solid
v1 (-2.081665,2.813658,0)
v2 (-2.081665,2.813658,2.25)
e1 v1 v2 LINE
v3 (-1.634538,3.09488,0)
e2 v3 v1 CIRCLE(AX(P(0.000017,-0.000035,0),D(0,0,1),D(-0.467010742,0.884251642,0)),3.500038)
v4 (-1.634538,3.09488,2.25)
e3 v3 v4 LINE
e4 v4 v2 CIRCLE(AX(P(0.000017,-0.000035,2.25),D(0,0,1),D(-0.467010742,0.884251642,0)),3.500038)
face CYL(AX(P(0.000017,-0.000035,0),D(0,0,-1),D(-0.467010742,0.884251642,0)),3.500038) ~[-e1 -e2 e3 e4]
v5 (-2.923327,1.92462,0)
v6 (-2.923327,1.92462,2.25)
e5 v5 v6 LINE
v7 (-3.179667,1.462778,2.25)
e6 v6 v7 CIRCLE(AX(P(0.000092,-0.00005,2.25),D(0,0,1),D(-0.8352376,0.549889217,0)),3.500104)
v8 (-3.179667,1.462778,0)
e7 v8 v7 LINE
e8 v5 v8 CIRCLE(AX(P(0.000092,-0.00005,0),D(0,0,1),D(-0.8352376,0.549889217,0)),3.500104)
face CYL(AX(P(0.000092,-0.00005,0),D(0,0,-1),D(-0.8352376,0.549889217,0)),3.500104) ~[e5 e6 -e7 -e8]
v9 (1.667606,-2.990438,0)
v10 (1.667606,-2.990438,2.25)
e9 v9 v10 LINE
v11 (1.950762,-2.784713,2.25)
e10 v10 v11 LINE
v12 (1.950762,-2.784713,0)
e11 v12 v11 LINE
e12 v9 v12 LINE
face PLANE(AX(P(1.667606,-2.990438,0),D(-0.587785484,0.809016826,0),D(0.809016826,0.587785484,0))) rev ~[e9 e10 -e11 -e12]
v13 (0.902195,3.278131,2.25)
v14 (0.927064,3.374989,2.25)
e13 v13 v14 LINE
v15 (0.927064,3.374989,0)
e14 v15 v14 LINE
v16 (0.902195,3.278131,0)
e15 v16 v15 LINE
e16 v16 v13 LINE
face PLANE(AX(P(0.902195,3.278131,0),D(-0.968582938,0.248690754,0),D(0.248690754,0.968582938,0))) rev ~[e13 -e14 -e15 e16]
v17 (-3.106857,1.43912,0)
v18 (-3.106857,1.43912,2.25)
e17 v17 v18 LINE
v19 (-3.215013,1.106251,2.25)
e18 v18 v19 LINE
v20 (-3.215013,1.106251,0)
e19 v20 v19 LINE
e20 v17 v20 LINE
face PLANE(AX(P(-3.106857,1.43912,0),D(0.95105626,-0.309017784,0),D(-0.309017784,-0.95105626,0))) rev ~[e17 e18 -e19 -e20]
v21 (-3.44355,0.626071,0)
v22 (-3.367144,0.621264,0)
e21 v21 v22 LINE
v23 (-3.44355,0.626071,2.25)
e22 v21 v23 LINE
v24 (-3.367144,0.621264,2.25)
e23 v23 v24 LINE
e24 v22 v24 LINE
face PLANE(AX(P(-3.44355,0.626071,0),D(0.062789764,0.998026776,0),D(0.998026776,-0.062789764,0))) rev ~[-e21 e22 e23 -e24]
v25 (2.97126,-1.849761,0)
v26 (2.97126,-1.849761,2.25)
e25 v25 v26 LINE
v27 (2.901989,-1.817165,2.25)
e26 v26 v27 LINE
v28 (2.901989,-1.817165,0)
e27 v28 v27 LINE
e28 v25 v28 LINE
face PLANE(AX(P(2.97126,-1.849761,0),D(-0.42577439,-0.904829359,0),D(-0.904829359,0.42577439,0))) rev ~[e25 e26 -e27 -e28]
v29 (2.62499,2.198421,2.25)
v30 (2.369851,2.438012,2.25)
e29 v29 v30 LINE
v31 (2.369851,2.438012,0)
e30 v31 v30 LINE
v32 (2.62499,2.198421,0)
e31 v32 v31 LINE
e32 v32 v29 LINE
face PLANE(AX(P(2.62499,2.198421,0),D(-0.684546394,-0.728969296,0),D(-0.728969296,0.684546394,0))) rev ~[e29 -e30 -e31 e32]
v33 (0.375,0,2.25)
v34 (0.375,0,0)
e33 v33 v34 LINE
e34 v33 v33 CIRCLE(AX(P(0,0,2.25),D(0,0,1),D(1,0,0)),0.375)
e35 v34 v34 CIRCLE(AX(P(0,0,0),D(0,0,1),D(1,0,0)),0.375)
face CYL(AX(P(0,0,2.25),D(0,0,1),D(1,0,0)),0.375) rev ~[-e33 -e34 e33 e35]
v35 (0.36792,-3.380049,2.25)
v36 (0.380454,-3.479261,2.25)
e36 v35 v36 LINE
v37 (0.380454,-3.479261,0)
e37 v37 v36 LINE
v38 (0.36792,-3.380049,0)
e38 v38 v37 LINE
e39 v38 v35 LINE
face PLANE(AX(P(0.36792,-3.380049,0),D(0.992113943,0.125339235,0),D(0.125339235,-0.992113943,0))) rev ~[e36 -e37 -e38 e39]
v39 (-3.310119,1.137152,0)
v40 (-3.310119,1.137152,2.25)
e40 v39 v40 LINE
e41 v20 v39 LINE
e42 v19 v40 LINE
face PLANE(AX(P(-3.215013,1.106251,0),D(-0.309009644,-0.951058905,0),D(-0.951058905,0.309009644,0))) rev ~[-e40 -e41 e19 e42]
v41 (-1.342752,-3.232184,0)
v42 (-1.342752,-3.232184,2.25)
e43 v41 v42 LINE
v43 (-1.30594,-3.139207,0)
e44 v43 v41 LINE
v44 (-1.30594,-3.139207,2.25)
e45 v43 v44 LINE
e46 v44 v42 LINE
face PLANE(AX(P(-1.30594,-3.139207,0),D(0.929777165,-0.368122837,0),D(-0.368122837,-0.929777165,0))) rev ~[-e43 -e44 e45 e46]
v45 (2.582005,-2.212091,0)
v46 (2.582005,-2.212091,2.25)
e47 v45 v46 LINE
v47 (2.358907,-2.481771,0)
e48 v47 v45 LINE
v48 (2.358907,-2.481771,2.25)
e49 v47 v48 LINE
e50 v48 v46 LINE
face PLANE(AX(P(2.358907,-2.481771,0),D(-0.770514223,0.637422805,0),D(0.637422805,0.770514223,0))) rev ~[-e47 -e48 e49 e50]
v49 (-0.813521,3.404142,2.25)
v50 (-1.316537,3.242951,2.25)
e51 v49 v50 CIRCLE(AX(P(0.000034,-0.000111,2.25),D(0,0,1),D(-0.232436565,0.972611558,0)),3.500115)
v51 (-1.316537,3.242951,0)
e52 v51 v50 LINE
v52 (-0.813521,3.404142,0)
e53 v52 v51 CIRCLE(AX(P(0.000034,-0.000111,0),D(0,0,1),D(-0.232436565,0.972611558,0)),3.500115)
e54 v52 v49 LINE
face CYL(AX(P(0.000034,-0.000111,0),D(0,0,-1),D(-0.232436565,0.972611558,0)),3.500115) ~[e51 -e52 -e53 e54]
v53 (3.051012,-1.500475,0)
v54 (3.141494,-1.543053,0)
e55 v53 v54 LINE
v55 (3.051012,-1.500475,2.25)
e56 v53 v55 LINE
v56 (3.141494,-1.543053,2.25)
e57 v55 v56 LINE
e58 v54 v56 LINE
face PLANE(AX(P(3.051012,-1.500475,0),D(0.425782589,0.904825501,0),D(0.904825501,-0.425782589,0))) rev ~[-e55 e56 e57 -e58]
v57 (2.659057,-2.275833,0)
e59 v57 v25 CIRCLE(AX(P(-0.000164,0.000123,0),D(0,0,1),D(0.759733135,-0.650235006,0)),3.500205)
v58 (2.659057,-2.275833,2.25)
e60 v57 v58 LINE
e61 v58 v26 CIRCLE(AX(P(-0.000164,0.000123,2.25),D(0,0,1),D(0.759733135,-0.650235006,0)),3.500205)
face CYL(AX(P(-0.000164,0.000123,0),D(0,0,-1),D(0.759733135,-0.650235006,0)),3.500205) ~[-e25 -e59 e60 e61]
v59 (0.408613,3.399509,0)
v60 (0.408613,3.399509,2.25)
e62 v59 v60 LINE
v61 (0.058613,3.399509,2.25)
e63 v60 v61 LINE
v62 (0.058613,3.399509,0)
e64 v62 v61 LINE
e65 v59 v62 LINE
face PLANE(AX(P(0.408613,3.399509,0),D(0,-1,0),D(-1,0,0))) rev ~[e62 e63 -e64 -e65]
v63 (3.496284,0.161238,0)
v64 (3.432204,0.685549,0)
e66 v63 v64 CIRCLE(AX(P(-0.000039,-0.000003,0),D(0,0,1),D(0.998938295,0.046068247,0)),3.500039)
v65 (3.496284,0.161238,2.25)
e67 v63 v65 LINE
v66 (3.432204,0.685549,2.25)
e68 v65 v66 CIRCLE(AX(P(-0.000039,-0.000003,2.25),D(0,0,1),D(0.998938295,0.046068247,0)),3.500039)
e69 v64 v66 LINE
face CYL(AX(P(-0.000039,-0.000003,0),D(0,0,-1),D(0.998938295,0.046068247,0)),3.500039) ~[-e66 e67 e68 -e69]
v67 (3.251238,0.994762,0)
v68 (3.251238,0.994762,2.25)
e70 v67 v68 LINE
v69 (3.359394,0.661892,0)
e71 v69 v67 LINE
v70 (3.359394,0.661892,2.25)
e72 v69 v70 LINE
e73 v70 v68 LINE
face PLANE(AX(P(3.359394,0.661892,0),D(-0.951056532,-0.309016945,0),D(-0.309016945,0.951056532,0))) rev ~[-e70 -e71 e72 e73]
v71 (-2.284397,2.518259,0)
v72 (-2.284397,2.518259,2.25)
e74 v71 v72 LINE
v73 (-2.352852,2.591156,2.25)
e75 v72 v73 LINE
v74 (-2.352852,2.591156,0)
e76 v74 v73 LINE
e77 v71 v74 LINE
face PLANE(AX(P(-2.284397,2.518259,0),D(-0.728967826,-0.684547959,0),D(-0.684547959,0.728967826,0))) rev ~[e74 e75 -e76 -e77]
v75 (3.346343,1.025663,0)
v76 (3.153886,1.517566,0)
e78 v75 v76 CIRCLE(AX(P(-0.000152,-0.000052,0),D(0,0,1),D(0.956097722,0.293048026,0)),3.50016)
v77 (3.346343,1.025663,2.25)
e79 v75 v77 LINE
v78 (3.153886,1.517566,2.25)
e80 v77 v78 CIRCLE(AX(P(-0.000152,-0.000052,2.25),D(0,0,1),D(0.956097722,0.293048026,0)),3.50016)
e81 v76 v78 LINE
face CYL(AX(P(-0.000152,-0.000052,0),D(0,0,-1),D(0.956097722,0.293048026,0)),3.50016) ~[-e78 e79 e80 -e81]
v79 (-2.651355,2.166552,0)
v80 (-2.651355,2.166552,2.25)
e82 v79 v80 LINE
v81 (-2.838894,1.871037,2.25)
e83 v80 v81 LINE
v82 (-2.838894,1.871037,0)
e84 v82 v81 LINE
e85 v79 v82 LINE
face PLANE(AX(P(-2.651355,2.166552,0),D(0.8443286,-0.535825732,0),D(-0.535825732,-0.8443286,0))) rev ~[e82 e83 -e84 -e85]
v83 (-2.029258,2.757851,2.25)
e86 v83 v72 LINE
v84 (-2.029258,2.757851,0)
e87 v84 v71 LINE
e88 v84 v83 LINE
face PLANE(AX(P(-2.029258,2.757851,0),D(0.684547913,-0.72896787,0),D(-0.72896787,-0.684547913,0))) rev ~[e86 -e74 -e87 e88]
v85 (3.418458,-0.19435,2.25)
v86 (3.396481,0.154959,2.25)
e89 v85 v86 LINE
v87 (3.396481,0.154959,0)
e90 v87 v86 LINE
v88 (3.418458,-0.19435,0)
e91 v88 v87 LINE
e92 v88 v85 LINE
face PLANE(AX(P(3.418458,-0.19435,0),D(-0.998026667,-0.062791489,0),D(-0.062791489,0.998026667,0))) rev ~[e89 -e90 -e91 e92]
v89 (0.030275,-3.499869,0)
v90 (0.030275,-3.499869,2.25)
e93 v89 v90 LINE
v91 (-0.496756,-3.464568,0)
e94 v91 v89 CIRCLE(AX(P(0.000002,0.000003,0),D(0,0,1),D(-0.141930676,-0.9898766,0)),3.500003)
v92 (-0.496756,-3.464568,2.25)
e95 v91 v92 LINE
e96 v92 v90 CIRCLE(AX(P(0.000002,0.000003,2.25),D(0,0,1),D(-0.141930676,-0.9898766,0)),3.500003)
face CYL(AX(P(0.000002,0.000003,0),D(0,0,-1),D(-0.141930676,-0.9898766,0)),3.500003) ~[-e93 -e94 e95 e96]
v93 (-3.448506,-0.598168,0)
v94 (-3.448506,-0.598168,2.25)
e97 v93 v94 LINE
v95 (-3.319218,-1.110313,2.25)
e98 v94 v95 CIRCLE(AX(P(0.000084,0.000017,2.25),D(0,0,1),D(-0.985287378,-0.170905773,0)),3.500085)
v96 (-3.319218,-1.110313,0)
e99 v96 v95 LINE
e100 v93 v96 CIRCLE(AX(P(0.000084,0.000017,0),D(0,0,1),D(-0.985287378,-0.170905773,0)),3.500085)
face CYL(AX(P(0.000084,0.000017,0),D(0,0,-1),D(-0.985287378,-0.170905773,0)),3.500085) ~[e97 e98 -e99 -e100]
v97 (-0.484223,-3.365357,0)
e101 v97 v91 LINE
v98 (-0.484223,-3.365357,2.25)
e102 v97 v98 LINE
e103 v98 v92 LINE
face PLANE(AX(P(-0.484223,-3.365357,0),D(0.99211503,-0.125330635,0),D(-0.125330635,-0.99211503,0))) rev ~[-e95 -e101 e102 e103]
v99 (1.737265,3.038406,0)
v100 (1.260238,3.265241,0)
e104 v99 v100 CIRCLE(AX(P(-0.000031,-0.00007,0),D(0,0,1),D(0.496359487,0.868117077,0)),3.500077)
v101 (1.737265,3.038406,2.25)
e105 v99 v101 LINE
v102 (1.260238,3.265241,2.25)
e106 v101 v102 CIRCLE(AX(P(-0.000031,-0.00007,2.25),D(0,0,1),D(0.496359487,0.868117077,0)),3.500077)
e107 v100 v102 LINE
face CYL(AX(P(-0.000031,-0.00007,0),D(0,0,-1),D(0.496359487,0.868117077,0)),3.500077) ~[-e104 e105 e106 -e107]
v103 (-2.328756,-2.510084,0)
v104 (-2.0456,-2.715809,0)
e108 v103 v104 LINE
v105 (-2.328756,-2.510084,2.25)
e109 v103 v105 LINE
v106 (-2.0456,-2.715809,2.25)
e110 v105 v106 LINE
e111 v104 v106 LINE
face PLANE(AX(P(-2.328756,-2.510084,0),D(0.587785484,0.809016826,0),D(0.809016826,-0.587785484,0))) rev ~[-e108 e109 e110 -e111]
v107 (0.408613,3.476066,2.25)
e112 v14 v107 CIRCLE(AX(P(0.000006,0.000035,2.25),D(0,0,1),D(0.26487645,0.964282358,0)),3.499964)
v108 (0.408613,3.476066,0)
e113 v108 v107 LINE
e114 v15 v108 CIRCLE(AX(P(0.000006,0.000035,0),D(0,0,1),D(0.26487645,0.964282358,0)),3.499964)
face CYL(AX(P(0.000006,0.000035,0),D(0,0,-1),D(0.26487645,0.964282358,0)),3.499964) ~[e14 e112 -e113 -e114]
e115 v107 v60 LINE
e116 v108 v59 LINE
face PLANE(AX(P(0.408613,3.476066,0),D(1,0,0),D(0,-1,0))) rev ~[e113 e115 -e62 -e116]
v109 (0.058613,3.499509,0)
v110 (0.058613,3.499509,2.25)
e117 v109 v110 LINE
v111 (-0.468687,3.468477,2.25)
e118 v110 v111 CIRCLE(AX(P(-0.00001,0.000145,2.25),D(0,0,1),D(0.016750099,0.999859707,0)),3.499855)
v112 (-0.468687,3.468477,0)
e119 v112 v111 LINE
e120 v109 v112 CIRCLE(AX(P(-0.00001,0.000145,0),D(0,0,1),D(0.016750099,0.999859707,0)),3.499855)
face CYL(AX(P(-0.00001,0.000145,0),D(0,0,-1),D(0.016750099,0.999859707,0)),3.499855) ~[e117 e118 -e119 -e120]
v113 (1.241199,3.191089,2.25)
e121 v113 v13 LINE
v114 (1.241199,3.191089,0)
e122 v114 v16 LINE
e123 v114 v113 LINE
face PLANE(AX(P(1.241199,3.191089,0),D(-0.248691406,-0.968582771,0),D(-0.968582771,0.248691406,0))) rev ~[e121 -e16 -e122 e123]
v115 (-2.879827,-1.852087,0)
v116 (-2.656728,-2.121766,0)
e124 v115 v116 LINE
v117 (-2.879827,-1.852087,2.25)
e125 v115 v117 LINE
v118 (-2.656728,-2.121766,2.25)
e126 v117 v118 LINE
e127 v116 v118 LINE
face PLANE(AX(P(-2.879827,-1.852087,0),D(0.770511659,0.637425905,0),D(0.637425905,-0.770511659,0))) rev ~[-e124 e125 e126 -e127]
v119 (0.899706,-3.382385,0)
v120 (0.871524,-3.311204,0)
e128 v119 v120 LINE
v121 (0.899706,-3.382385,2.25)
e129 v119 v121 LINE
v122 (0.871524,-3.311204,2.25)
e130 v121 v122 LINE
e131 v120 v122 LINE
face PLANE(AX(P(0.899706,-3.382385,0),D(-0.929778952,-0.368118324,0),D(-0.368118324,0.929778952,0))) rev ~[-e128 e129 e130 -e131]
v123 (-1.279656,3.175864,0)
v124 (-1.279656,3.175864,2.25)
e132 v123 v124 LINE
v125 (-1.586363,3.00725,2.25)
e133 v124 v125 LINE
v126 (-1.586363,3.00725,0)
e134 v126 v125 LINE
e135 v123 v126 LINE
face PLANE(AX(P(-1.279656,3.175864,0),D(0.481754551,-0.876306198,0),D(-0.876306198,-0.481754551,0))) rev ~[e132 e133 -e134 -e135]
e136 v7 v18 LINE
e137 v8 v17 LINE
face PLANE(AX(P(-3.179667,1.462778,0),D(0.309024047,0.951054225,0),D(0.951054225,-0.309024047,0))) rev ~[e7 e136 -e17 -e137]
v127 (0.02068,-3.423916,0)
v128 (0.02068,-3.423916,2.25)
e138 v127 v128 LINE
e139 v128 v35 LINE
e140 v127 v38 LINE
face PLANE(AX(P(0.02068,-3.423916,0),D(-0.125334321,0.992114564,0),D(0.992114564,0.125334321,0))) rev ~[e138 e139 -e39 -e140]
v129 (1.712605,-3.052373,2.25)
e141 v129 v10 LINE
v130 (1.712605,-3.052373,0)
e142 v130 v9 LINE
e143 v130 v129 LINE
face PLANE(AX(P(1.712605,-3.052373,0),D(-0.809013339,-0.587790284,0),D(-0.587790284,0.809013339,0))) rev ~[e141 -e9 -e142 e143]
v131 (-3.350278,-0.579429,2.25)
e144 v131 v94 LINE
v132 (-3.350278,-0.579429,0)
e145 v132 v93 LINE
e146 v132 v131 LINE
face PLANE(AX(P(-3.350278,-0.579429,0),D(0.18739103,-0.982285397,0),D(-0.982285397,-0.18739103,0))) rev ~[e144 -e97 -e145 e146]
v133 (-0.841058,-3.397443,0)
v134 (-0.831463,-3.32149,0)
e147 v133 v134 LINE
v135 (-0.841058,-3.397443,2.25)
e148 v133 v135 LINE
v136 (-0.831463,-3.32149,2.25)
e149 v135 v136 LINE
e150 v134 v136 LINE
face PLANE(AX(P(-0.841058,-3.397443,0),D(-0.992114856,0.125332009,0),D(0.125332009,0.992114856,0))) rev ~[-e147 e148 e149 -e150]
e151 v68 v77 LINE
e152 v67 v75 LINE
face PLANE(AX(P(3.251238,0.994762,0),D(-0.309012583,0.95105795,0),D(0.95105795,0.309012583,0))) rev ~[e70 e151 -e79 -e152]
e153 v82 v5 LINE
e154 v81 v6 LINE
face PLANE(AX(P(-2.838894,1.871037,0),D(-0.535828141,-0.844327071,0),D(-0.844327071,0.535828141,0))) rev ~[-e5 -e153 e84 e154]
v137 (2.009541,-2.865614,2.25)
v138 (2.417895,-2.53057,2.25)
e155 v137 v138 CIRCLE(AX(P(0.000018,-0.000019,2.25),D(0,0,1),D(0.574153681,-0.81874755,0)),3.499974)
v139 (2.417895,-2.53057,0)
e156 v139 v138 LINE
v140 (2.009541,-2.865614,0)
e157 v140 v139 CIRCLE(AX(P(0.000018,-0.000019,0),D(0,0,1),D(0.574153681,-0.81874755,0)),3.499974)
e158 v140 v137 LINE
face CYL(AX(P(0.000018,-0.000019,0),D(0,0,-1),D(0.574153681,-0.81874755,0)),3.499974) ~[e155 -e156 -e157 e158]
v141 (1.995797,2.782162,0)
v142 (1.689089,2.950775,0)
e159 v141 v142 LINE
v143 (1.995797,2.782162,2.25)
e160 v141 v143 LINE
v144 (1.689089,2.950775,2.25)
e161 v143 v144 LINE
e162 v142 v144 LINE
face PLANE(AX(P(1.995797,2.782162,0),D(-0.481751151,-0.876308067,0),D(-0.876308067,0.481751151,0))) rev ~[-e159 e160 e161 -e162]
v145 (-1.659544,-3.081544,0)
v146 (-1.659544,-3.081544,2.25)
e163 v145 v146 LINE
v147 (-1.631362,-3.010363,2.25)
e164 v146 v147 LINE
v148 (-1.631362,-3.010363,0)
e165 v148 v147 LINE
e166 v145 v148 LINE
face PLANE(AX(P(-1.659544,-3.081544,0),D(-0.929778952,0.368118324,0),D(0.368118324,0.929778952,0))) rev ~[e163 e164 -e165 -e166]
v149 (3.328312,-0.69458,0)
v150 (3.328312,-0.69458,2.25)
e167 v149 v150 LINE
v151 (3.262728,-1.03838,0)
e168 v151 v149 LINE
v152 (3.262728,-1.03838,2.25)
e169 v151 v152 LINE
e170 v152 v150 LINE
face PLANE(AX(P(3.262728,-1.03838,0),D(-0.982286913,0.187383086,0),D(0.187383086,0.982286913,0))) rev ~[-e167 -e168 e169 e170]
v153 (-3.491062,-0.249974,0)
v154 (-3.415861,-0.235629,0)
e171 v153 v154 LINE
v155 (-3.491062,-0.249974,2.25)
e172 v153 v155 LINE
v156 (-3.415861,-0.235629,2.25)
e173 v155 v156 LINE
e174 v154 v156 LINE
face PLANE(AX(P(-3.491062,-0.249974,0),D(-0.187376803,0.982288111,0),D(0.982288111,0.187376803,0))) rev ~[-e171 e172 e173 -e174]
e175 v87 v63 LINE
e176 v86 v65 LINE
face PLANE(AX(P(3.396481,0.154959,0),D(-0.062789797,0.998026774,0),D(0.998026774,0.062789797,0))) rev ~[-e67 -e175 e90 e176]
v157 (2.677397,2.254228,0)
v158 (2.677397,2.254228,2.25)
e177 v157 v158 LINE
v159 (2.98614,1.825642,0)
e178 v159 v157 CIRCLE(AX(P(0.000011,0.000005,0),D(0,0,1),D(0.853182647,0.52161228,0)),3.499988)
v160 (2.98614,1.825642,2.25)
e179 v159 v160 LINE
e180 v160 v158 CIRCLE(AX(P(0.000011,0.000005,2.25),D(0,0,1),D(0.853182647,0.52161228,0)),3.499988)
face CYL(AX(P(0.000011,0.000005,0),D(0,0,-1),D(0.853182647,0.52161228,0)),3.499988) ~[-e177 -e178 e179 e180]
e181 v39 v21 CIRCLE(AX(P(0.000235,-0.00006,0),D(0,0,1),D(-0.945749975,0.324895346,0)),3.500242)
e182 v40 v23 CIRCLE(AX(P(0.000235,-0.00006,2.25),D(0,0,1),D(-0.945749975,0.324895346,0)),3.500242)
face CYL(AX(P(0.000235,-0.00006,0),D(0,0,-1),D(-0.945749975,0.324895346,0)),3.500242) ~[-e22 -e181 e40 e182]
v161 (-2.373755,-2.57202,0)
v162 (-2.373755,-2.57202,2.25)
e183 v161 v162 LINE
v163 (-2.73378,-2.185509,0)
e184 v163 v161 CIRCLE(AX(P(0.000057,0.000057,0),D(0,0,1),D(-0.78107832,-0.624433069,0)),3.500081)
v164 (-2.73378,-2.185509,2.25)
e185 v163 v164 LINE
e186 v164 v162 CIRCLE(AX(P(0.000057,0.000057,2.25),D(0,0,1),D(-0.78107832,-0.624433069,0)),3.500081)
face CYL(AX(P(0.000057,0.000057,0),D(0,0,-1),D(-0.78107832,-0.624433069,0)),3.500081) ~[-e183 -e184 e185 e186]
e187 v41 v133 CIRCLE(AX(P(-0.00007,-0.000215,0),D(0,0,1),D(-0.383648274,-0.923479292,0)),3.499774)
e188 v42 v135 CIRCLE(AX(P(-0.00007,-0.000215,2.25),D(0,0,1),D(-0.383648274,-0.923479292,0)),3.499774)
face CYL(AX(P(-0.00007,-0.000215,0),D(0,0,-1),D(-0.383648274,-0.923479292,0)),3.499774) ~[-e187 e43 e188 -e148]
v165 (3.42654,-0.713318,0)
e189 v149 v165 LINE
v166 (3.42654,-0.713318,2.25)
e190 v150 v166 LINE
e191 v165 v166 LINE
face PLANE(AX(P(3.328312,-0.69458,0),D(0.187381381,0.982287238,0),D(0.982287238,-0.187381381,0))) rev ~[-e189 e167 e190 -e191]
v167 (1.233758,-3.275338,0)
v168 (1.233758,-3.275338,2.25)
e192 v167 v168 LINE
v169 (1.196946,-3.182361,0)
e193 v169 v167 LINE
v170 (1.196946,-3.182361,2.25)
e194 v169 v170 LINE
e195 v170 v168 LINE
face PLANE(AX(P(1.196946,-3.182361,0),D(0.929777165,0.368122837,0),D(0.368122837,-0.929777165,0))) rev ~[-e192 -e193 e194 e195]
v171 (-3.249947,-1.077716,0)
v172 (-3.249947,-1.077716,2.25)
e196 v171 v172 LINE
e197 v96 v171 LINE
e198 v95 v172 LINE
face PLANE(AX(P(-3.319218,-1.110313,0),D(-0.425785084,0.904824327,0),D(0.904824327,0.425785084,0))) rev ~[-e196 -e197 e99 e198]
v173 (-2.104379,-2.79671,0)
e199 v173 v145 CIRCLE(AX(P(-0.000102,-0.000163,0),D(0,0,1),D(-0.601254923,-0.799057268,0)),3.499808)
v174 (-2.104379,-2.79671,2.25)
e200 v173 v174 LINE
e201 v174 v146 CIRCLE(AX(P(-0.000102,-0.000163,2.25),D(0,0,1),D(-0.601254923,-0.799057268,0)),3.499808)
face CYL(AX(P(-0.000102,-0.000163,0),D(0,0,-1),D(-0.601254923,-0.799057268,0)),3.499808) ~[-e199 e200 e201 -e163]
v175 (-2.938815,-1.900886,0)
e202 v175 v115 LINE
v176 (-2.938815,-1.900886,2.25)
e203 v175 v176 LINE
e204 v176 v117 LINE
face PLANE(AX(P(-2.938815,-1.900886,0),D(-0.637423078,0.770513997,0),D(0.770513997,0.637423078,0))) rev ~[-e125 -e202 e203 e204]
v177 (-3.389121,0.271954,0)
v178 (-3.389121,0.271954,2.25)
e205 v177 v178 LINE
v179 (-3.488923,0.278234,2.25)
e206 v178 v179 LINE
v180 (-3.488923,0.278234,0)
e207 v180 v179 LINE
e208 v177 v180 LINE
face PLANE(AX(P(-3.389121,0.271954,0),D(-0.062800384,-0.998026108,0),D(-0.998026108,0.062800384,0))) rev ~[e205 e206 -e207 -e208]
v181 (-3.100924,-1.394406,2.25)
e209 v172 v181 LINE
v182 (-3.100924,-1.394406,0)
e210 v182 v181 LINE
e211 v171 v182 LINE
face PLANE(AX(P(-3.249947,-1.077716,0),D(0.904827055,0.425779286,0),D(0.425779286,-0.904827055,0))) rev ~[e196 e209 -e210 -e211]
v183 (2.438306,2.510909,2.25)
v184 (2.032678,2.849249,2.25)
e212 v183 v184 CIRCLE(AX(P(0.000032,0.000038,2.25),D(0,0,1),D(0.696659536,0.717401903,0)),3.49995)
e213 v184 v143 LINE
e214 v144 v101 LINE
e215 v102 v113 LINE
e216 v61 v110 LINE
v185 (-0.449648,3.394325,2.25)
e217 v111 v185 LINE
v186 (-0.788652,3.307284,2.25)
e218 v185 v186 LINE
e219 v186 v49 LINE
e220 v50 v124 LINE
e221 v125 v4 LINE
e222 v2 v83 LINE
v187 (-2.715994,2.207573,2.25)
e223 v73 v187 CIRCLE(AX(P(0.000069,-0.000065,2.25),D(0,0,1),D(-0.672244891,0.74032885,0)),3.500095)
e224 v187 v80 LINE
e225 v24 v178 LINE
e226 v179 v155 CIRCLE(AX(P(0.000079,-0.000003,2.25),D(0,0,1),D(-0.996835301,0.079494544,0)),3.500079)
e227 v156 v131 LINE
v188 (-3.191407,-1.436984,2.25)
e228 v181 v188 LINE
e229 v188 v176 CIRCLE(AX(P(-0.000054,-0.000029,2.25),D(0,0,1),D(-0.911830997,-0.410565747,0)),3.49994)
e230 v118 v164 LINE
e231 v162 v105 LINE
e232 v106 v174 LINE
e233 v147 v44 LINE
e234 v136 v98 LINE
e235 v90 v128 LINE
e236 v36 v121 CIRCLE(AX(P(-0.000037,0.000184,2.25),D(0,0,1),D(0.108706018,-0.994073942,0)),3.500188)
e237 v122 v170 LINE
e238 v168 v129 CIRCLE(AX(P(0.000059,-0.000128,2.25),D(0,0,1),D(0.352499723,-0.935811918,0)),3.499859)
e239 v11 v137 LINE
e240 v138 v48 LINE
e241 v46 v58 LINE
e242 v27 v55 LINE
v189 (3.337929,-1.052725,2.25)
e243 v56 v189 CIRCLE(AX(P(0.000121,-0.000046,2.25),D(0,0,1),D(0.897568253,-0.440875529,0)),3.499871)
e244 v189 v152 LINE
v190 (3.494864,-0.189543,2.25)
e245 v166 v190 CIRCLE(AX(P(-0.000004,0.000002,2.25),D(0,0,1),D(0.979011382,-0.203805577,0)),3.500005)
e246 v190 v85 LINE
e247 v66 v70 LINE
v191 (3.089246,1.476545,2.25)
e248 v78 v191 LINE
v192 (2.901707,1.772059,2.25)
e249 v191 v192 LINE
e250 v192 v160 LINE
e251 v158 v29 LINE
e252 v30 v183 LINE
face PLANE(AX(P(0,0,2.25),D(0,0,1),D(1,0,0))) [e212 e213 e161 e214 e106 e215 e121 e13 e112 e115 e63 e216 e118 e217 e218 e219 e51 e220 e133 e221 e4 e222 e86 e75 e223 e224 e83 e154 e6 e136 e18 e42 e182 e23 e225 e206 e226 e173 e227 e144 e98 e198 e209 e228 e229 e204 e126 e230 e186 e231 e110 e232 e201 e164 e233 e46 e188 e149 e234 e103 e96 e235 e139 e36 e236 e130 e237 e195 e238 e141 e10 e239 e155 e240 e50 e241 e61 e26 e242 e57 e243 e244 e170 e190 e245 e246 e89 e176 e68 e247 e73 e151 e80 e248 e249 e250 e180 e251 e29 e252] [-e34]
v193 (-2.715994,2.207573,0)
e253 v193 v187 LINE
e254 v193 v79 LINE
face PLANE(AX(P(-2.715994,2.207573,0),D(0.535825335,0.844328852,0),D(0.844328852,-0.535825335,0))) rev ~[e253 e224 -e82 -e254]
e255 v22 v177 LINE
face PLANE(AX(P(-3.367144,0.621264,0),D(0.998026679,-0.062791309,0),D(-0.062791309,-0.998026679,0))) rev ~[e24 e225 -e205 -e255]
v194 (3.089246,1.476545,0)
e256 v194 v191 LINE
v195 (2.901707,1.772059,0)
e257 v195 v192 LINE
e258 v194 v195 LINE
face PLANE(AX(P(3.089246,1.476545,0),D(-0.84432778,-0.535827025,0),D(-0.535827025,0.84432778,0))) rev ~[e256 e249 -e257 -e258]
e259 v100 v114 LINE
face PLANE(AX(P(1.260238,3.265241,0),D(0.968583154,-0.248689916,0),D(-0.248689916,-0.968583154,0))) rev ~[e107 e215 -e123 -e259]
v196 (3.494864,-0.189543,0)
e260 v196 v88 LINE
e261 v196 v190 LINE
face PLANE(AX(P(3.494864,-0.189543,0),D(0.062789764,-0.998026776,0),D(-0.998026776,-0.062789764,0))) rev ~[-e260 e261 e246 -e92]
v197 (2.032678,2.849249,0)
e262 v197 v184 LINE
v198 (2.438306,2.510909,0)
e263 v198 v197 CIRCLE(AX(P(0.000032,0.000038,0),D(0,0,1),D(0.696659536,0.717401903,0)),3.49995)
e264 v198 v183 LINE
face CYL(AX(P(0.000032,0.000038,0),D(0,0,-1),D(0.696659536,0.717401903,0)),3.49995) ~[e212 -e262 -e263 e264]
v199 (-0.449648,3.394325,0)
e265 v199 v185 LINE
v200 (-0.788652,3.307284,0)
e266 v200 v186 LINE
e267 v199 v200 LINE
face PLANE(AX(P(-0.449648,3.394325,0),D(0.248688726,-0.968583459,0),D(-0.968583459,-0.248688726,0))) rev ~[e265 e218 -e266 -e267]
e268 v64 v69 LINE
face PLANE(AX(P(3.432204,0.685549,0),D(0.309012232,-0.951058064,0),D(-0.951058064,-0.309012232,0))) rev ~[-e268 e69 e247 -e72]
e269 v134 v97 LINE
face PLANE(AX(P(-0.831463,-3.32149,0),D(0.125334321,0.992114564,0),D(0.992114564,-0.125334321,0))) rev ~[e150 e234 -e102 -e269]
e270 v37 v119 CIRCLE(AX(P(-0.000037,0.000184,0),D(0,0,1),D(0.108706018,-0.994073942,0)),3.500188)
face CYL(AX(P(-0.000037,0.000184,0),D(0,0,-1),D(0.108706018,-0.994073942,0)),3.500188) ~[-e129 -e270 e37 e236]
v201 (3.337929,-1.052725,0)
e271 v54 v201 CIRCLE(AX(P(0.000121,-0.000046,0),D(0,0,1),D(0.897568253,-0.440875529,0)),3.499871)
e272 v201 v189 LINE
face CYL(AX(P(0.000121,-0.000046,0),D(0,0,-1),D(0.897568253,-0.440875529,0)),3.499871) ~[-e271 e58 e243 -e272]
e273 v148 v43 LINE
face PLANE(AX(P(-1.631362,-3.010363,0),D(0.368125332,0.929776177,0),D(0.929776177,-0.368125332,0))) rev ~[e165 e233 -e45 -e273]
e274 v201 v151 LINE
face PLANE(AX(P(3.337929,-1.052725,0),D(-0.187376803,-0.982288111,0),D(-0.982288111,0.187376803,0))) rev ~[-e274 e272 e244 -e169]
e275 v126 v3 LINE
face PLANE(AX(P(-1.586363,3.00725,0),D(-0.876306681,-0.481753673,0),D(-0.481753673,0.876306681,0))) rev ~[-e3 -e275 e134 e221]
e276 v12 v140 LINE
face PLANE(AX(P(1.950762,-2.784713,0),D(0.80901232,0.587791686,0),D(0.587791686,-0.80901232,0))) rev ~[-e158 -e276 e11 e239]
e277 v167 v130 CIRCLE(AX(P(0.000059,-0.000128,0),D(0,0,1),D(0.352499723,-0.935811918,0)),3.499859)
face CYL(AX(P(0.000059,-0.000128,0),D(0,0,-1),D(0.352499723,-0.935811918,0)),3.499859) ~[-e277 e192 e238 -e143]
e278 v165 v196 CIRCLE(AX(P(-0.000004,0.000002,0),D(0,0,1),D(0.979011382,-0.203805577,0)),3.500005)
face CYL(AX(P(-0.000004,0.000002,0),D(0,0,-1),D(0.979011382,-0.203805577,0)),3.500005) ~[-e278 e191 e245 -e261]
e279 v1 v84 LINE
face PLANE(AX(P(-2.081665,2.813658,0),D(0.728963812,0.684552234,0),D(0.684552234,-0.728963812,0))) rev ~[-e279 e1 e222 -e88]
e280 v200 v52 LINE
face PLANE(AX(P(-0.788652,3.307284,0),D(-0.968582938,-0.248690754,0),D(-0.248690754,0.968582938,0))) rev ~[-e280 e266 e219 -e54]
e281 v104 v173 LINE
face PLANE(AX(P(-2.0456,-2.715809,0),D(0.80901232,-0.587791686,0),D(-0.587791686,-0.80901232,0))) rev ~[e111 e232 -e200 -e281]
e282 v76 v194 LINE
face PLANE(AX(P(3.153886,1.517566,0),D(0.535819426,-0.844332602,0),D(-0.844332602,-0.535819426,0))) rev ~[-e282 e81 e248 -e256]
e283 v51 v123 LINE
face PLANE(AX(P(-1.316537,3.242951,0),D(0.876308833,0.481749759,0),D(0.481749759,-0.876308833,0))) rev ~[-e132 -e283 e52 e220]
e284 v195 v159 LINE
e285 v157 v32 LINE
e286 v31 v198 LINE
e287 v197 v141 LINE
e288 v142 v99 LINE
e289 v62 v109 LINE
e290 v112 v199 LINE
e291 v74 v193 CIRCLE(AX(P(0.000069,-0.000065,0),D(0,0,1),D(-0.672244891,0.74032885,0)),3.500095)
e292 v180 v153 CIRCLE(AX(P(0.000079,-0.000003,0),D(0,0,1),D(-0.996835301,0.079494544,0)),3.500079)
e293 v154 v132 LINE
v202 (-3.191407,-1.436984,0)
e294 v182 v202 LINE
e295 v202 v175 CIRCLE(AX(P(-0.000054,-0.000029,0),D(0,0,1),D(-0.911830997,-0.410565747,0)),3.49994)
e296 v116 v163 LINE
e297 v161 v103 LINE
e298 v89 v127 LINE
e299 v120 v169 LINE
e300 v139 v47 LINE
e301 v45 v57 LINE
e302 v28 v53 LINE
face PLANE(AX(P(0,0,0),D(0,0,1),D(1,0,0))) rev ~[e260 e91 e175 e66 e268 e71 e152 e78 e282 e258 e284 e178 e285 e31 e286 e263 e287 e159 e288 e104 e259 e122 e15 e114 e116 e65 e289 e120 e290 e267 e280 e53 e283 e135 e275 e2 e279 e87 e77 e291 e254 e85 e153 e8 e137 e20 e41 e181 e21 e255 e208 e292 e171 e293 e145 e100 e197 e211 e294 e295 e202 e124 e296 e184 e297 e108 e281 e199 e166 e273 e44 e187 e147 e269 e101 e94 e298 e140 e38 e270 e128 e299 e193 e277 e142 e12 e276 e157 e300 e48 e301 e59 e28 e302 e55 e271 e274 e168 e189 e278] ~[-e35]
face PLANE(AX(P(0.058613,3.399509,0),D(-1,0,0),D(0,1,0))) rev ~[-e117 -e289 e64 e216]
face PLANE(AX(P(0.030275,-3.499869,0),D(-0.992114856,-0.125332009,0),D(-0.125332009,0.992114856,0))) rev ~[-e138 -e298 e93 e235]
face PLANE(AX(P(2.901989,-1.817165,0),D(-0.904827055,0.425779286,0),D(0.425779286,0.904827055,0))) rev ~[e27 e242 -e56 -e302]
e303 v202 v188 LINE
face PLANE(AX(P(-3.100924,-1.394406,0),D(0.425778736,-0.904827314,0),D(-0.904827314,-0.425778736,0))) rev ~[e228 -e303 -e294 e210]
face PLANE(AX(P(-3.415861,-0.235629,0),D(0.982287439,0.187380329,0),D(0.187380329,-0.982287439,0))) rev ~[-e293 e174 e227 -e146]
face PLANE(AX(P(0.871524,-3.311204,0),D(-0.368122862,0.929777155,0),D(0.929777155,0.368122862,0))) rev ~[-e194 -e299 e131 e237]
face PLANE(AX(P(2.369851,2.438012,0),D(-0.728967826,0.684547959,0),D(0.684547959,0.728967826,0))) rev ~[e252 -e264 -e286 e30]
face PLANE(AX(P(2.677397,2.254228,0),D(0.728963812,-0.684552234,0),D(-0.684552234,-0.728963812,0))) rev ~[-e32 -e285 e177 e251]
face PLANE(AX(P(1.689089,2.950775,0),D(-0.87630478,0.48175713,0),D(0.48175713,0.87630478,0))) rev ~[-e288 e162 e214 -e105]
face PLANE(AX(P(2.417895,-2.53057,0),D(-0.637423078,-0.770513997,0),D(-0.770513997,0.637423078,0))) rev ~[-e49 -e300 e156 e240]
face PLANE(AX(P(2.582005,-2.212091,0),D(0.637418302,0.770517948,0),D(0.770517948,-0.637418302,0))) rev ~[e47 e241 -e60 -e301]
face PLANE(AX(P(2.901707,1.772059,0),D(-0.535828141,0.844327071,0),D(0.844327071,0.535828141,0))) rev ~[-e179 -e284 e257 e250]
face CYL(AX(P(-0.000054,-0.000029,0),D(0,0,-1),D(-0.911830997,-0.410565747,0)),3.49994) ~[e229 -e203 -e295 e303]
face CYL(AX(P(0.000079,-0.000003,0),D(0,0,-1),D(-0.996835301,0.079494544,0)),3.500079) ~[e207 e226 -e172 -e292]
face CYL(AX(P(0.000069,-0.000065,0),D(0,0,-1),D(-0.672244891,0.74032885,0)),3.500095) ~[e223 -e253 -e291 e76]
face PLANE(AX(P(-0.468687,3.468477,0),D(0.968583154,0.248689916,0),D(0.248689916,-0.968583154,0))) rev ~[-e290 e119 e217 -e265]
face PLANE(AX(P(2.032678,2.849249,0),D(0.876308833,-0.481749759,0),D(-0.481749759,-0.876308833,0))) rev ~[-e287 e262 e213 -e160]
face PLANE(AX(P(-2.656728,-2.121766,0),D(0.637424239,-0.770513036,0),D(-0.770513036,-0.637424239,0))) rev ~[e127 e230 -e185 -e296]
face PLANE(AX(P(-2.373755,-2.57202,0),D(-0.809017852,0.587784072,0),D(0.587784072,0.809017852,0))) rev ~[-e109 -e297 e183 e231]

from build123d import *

# Parameters (mm, degrees)
F1_DEPTH = 2.25
F2_R     = 0.375
F3_DEPTH = 2.251


with BuildPart() as f1:
    # F0 (on Top) → F1 (new body)
    with BuildSketch(Plane.XY):
        with BuildLine():
            Line((3.396481, 0.154959), (3.496284, 0.161238))
            ThreePointArc((3.496284, 0.161238), (3.474149, 0.424604), (3.432204, 0.685549))
            Line((3.432204, 0.685549), (3.359394, 0.661892))
            Line((3.359394, 0.661892), (3.251238, 0.994762))
            Line((3.251238, 0.994762), (3.346343, 1.025663))
            ThreePointArc((3.346343, 1.025663), (3.259407, 1.27525), (3.153886, 1.517566))
            Line((3.153886, 1.517566), (3.089246, 1.476545))
            Line((3.089246, 1.476545), (2.901707, 1.772059))
            Line((2.901707, 1.772059), (2.98614, 1.825642))
            ThreePointArc((2.98614, 1.825642), (2.839865, 2.045768), (2.677397, 2.254228))
            Line((2.677397, 2.254228), (2.62499, 2.198421))
            Line((2.62499, 2.198421), (2.369851, 2.438012))
            Line((2.369851, 2.438012), (2.438306, 2.510909))
            ThreePointArc((2.438306, 2.510909), (2.241884, 2.687742), (2.032678, 2.849249))
            Line((2.032678, 2.849249), (1.995797, 2.782162))
            Line((1.995797, 2.782162), (1.689089, 2.950775))
            Line((1.689089, 2.950775), (1.737265, 3.038406))
            ThreePointArc((1.737265, 3.038406), (1.503037, 3.160835), (1.260238, 3.265241))
            Line((1.260238, 3.265241), (1.241199, 3.191089))
            Line((1.241199, 3.191089), (0.902195, 3.278131))
            Line((0.902195, 3.278131), (0.927064, 3.374989))
            ThreePointArc((0.927064, 3.374989), (0.669748, 3.435322), (0.408613, 3.476066))
            Line((0.408613, 3.476066), (0.408613, 3.399509))
            Line((0.408613, 3.399509), (0.058613, 3.399509))
            Line((0.058613, 3.399509), (0.058613, 3.499509))
            ThreePointArc((0.058613, 3.499509), (-0.205623, 3.493955), (-0.468687, 3.468477))
            Line((-0.468687, 3.468477), (-0.449648, 3.394325))
            Line((-0.449648, 3.394325), (-0.788652, 3.307284))
            Line((-0.788652, 3.307284), (-0.813521, 3.404142))
            ThreePointArc((-0.813521, 3.404142), (-1.068074, 3.333049), (-1.316537, 3.242951))
            Line((-1.316537, 3.242951), (-1.279656, 3.175864))
            Line((-1.279656, 3.175864), (-1.586363, 3.00725))
            Line((-1.586363, 3.00725), (-1.634538, 3.09488))
            ThreePointArc((-1.634538, 3.09488), (-1.863414, 2.962716), (-2.081665, 2.813658))
            Line((-2.081665, 2.813658), (-2.029258, 2.757851))
            Line((-2.029258, 2.757851), (-2.284397, 2.518259))
            Line((-2.284397, 2.518259), (-2.352852, 2.591156))
            ThreePointArc((-2.352852, 2.591156), (-2.541669, 2.406225), (-2.715994, 2.207573))
            Line((-2.715994, 2.207573), (-2.651355, 2.166552))
            Line((-2.651355, 2.166552), (-2.838894, 1.871037))
            Line((-2.838894, 1.871037), (-2.923327, 1.92462))
            ThreePointArc((-2.923327, 1.92462), (-3.060222, 1.698541), (-3.179667, 1.462778))
            Line((-3.179667, 1.462778), (-3.106857, 1.43912))
            Line((-3.106857, 1.43912), (-3.215013, 1.106251))
            Line((-3.215013, 1.106251), (-3.310119, 1.137152))
            ThreePointArc((-3.310119, 1.137152), (-3.386489, 0.884132), (-3.44355, 0.626071))
            Line((-3.44355, 0.626071), (-3.367144, 0.621264))
            Line((-3.367144, 0.621264), (-3.389121, 0.271954))
            Line((-3.389121, 0.271954), (-3.488923, 0.278234))
            ThreePointArc((-3.488923, 0.278234), (-3.499971, 0.01417), (-3.491062, -0.249974))
            Line((-3.491062, -0.249974), (-3.415861, -0.235629))
            Line((-3.415861, -0.235629), (-3.350278, -0.579429))
            Line((-3.350278, -0.579429), (-3.448506, -0.598168))
            ThreePointArc((-3.448506, -0.598168), (-3.393537, -0.856683), (-3.319218, -1.110313))
            Line((-3.319218, -1.110313), (-3.249947, -1.077716))
            Line((-3.249947, -1.077716), (-3.100924, -1.394406))
            Line((-3.100924, -1.394406), (-3.191407, -1.436984))
            ThreePointArc((-3.191407, -1.436984), (-3.073875, -1.673707), (-2.938815, -1.900886))
            Line((-2.938815, -1.900886), (-2.879827, -1.852087))
            Line((-2.879827, -1.852087), (-2.656728, -2.121766))
            Line((-2.656728, -2.121766), (-2.73378, -2.185509))
            ThreePointArc((-2.73378, -2.185509), (-2.561069, -2.385566), (-2.373755, -2.57202))
            Line((-2.373755, -2.57202), (-2.328756, -2.510084))
            Line((-2.328756, -2.510084), (-2.0456, -2.715809))
            Line((-2.0456, -2.715809), (-2.104379, -2.79671))
            ThreePointArc((-2.104379, -2.79671), (-1.887343, -2.947531), (-1.659544, -3.081544))
            Line((-1.659544, -3.081544), (-1.631362, -3.010363))
            Line((-1.631362, -3.010363), (-1.30594, -3.139207))
            Line((-1.30594, -3.139207), (-1.342752, -3.232184))
            ThreePointArc((-1.342752, -3.232184), (-1.095027, -3.324292), (-0.841058, -3.397443))
            Line((-0.841058, -3.397443), (-0.831463, -3.32149))
            Line((-0.831463, -3.32149), (-0.484223, -3.365357))
            Line((-0.484223, -3.365357), (-0.496756, -3.464568))
            ThreePointArc((-0.496756, -3.464568), (-0.233907, -3.492175), (0.030275, -3.499869))
            Line((0.030275, -3.499869), (0.02068, -3.423916))
            Line((0.02068, -3.423916), (0.36792, -3.380049))
            Line((0.36792, -3.380049), (0.380454, -3.479261))
            ThreePointArc((0.380454, -3.479261), (0.64191, -3.440632), (0.899706, -3.382385))
            Line((0.899706, -3.382385), (0.871524, -3.311204))
            Line((0.871524, -3.311204), (1.196946, -3.182361))
            Line((1.196946, -3.182361), (1.233758, -3.275338))
            ThreePointArc((1.233758, -3.275338), (1.477394, -3.172902), (1.712605, -3.052373))
            Line((1.712605, -3.052373), (1.667606, -2.990438))
            Line((1.667606, -2.990438), (1.950762, -2.784713))
            Line((1.950762, -2.784713), (2.009541, -2.865614))
            ThreePointArc((2.009541, -2.865614), (2.220047, -2.705807), (2.417895, -2.53057))
            Line((2.417895, -2.53057), (2.358907, -2.481771))
            Line((2.358907, -2.481771), (2.582005, -2.212091))
            Line((2.582005, -2.212091), (2.659057, -2.275833))
            ThreePointArc((2.659057, -2.275833), (2.823207, -2.068695), (2.97126, -1.849761))
            Line((2.97126, -1.849761), (2.901989, -1.817165))
            Line((2.901989, -1.817165), (3.051012, -1.500475))
            Line((3.051012, -1.500475), (3.141494, -1.543053))
            ThreePointArc((3.141494, -1.543053), (3.248975, -1.3016), (3.337929, -1.052725))
            Line((3.337929, -1.052725), (3.262728, -1.03838))
            Line((3.262728, -1.03838), (3.328312, -0.69458))
            Line((3.328312, -0.69458), (3.42654, -0.713318))
            ThreePointArc((3.42654, -0.713318), (3.470597, -0.452721), (3.494864, -0.189543))
            Line((3.494864, -0.189543), (3.418458, -0.19435))
            Line((3.418458, -0.19435), (3.396481, 0.154959))
        make_face()
    extrude(amount=F1_DEPTH)

    # F2 (on face) → F3 (cut, through all)
    with BuildSketch(Plane.XY.offset(2.25)):
        Circle(F2_R)
    extrude(amount=-F3_DEPTH, mode=Mode.SUBTRACT)


solid = f1.part
